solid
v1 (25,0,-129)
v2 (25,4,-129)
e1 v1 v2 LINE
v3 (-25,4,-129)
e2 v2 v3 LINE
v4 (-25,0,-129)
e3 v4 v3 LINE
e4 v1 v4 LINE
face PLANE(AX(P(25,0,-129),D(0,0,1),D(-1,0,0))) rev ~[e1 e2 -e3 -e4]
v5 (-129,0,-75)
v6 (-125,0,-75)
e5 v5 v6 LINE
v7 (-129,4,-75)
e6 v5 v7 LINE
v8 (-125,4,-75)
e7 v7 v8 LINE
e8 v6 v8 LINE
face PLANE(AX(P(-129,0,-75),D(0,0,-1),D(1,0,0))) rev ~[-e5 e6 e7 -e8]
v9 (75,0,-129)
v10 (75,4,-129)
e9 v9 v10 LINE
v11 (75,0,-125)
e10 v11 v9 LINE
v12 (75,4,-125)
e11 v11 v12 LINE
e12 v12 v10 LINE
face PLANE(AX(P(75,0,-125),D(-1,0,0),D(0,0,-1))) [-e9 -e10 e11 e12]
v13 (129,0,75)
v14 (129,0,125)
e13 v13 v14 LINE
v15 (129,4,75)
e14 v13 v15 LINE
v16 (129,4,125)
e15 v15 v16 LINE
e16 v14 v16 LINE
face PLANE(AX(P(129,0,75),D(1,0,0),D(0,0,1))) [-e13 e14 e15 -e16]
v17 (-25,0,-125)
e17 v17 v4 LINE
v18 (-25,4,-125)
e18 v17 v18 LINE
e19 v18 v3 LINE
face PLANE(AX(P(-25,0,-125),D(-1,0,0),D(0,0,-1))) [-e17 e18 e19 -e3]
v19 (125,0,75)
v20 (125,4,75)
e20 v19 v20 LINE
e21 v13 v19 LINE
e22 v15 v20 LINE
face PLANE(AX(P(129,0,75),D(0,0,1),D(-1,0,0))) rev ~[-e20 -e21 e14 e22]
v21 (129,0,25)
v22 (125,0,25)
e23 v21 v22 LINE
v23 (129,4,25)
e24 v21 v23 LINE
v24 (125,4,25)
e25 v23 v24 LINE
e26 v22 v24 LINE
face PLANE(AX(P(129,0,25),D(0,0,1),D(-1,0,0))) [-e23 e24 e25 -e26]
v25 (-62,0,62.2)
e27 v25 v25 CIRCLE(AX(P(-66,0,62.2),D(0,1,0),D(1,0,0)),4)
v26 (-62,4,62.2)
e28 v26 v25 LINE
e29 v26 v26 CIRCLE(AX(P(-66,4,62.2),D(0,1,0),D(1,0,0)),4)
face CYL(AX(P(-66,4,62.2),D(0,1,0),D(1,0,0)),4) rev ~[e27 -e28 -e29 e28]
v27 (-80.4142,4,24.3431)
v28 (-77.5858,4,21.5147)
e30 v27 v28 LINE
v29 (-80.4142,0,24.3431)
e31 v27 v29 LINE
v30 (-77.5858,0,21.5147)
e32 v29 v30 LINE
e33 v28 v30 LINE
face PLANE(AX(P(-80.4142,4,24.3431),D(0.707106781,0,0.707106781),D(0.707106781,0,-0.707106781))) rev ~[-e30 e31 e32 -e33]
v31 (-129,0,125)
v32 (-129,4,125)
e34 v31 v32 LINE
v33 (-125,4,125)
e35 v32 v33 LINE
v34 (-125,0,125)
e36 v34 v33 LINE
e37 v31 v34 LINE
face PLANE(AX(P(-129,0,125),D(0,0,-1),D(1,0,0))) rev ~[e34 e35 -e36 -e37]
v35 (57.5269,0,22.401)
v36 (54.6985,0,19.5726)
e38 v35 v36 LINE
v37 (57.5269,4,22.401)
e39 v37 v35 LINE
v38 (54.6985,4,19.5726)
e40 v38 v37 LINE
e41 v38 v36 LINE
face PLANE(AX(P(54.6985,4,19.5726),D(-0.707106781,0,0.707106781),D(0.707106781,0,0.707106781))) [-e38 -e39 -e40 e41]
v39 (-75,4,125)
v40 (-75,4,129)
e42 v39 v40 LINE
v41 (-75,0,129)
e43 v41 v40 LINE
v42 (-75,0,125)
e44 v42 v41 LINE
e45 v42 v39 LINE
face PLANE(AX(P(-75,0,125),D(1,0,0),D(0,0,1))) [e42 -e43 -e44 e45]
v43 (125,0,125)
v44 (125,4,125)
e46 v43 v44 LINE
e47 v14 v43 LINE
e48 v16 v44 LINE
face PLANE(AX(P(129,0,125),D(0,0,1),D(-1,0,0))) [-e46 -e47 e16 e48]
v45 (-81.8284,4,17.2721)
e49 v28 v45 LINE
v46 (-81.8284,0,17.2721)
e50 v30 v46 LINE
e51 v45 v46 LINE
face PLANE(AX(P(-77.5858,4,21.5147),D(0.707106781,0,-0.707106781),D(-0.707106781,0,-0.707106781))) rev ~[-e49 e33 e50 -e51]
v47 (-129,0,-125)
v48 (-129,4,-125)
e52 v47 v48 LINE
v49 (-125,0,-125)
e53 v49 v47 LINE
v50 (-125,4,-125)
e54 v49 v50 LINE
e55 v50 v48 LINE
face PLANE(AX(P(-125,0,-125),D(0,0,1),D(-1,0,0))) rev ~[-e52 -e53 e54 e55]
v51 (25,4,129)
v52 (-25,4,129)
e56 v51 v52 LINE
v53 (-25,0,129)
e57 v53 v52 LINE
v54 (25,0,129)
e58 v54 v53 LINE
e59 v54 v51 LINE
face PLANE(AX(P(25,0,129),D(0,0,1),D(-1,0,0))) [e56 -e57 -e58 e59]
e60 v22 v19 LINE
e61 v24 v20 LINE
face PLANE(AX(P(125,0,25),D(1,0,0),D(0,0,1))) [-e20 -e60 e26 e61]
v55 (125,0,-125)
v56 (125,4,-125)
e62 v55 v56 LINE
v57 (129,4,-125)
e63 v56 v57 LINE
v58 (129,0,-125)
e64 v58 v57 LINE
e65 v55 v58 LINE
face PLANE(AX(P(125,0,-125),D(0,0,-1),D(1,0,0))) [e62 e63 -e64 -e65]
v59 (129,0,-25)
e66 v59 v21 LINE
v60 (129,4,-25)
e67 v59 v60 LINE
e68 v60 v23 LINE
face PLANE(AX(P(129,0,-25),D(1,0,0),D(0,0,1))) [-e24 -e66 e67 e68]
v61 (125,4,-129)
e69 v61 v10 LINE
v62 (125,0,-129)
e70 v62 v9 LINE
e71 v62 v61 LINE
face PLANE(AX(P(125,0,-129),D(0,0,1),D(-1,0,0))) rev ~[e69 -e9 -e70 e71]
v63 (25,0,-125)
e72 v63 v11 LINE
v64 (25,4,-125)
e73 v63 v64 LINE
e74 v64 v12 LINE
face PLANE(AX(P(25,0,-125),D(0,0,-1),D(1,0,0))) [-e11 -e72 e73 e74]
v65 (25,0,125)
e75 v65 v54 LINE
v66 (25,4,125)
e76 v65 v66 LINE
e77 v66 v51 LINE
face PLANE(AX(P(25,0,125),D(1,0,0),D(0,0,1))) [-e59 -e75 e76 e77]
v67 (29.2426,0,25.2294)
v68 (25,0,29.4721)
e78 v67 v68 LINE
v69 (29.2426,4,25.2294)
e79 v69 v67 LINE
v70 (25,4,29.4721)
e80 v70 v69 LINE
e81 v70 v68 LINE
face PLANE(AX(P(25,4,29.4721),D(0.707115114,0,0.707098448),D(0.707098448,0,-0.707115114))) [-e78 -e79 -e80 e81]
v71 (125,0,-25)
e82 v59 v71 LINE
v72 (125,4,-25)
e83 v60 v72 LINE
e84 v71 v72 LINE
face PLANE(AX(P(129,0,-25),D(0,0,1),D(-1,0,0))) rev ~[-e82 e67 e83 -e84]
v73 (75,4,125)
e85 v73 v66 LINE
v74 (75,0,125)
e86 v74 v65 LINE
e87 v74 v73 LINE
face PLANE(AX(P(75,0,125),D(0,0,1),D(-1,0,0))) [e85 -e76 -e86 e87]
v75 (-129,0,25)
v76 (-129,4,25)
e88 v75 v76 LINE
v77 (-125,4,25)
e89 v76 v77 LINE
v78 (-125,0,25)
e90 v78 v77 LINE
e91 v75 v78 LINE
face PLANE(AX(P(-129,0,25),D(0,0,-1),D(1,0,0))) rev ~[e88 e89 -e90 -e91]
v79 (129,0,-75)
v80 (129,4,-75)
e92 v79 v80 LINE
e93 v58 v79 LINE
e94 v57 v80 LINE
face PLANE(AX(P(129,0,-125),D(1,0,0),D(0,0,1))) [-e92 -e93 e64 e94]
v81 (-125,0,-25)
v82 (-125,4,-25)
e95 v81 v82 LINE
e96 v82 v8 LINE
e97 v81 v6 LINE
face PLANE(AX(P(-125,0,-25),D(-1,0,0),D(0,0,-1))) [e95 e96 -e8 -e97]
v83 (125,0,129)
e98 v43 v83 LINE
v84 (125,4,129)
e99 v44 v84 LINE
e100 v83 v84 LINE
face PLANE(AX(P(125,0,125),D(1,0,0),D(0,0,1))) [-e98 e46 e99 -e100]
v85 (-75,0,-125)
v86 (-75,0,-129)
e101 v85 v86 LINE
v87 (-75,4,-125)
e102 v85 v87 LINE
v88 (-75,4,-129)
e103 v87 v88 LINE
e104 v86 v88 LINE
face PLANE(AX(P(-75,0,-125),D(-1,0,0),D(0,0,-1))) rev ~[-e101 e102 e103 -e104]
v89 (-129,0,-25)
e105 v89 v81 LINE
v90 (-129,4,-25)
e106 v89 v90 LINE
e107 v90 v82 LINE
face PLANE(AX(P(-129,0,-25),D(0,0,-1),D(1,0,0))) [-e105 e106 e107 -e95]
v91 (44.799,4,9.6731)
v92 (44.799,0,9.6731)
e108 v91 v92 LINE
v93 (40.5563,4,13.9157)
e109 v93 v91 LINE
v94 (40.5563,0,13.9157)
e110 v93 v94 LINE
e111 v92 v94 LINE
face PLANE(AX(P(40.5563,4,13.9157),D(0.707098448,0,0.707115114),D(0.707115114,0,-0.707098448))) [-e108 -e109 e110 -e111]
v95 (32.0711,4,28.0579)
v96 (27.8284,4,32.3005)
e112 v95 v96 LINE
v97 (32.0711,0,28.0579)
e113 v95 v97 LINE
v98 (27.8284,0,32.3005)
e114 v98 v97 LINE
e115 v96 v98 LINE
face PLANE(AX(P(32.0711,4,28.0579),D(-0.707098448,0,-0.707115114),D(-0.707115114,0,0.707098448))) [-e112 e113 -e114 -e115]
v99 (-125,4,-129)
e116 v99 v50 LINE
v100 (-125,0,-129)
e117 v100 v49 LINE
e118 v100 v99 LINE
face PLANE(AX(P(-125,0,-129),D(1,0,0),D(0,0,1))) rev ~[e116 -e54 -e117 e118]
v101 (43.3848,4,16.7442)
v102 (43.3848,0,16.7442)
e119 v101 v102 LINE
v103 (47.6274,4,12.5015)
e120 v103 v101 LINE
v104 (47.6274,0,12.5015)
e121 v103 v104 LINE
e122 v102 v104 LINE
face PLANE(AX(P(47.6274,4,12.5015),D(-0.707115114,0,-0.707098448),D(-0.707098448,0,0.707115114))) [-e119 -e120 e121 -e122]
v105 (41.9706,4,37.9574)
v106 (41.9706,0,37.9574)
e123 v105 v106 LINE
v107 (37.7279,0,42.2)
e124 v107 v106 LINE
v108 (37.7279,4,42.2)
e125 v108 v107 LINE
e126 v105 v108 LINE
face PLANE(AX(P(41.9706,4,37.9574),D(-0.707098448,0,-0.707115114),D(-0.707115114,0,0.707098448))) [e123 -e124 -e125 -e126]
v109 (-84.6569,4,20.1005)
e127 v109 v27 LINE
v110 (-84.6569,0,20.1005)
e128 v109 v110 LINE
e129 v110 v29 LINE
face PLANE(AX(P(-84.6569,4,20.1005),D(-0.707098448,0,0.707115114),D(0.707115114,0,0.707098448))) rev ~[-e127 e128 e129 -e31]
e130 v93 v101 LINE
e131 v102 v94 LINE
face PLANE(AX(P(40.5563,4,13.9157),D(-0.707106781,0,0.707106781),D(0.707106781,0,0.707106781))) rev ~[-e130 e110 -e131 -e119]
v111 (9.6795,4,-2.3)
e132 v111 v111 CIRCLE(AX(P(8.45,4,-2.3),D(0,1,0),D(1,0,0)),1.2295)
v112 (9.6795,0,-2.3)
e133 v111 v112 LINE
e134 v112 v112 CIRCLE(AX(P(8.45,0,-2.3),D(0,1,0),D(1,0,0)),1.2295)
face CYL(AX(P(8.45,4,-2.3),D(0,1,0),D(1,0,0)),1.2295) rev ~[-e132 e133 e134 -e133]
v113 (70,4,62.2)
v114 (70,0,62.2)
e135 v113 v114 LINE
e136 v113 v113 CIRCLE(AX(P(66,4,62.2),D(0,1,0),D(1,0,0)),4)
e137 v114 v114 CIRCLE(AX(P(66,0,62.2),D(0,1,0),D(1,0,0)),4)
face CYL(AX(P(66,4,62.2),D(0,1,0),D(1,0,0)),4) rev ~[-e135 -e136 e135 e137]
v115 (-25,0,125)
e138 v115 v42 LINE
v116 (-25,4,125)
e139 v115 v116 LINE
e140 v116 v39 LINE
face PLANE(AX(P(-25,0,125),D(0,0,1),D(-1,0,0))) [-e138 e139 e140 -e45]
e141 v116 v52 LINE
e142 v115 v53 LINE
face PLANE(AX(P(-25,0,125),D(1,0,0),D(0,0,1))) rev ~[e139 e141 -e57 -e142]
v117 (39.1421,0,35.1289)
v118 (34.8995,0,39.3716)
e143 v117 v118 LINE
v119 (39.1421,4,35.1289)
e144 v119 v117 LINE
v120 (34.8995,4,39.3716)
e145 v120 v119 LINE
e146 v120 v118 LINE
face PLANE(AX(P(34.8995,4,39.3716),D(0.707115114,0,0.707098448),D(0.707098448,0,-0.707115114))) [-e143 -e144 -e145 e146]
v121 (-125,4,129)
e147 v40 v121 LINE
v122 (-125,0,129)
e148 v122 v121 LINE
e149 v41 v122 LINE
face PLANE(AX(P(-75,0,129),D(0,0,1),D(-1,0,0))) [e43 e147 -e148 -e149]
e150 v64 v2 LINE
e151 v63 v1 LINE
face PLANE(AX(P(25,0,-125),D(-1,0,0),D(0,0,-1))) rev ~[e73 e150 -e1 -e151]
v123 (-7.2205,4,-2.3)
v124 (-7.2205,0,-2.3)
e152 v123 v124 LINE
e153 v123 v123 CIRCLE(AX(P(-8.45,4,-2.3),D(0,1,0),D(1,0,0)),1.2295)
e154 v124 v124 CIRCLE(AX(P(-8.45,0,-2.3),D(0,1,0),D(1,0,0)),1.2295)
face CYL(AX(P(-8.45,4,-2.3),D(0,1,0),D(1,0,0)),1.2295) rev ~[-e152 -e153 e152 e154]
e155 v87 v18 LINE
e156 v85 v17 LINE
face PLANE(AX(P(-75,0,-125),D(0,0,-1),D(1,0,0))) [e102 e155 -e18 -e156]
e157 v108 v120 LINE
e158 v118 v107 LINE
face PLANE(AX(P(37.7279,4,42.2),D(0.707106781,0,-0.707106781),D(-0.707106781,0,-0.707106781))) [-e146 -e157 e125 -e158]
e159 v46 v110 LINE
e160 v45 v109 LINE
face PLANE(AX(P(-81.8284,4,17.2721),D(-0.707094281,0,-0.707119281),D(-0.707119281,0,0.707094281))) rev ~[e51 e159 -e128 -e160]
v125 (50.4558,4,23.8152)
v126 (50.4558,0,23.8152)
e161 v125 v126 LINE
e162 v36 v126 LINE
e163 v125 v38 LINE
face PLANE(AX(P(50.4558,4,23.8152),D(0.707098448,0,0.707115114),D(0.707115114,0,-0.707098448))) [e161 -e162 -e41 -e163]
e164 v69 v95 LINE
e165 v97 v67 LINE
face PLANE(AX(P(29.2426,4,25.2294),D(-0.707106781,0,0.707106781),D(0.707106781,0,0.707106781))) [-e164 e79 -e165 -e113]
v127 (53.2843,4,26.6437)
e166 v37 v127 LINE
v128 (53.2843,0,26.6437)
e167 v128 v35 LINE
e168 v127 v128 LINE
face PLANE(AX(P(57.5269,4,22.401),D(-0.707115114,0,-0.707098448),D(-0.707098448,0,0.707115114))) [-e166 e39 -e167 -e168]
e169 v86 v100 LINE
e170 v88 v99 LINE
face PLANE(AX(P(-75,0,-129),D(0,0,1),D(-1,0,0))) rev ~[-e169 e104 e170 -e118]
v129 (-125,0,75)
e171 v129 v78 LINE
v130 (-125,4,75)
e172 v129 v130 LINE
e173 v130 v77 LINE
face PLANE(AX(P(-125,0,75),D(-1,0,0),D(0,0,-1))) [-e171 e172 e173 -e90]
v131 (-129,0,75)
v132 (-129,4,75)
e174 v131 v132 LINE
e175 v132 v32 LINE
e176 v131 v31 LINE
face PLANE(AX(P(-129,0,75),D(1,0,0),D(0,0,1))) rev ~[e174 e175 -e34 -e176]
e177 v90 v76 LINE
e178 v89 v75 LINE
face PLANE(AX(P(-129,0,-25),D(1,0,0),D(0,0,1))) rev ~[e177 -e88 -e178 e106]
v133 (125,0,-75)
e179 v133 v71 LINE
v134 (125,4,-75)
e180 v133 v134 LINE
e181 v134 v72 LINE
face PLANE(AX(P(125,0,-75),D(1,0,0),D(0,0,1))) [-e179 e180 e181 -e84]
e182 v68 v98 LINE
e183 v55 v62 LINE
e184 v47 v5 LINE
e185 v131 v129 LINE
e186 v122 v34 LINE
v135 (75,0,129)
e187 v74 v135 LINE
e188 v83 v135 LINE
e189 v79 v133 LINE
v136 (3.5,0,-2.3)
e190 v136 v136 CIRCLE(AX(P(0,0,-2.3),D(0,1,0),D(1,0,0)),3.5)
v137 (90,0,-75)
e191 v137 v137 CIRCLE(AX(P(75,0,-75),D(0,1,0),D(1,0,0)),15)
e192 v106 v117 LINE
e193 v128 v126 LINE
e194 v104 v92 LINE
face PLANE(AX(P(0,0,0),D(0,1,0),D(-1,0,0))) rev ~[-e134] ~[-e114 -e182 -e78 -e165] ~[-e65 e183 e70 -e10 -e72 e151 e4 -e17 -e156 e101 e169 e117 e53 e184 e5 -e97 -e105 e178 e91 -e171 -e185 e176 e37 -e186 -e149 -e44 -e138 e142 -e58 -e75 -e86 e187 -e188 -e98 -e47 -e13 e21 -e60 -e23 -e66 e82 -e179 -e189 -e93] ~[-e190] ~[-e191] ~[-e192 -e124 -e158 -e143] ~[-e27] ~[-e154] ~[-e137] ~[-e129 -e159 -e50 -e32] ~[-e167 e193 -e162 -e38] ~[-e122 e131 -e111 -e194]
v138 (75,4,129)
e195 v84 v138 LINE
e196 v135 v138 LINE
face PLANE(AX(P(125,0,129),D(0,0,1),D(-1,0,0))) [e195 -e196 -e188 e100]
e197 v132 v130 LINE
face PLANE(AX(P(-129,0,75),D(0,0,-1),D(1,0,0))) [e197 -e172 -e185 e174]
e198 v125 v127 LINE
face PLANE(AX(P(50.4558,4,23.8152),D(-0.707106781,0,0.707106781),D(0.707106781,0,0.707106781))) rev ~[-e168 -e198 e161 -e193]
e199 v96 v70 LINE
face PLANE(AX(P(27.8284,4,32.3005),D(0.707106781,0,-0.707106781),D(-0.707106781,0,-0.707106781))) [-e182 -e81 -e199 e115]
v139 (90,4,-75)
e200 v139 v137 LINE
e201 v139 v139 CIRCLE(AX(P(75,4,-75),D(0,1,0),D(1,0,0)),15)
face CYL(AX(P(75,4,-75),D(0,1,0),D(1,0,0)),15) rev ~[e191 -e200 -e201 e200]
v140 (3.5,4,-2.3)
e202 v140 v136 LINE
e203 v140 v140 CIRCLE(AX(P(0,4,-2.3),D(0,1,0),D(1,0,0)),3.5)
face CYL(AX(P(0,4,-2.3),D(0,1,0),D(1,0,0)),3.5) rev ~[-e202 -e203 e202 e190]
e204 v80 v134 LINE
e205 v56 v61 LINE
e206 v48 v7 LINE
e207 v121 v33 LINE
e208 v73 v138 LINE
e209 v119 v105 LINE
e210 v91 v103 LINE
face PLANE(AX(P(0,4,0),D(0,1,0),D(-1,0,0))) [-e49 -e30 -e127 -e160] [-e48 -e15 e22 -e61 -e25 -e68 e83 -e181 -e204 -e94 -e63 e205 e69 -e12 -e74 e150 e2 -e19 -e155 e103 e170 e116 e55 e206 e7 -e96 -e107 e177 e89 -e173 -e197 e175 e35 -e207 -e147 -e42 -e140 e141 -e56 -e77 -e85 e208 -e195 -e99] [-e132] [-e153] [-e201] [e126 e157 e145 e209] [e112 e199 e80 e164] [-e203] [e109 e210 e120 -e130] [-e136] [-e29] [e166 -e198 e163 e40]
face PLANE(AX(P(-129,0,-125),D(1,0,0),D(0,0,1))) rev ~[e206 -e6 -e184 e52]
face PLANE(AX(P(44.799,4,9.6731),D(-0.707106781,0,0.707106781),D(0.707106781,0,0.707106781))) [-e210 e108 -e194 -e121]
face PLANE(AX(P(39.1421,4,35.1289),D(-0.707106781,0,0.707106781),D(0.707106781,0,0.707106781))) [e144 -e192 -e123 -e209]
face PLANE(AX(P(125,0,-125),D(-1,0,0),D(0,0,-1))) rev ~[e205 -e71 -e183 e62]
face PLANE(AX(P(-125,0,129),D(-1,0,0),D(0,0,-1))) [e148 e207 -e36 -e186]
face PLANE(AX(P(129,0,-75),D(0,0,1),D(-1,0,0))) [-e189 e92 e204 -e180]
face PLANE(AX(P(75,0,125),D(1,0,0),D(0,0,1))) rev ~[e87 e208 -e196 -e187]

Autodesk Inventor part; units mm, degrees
ref_plane "YZ Plane" through (0, 0, 0) normal (1, 0, 0) x (0, 1, 0)
ref_plane "XZ Plane" through (0, 0, 0) normal (0, 1, 0) x (-1, 0, 0)
ref_plane "XY Plane" through (0, 0, 0) normal (0, 0, 1) x (1, 0, 0)
sketch "Sketch1" plane through (0, 0, 0) normal (0, 1, 0) x (-1, 0, 0)
  line L0 (-125, 125) -> (125, 125)
  line L1 (125, 125) -> (125, -125)
  line L2 (125, -125) -> (-125, -125)
  line L3 (-125, -125) -> (-125, 125)
  line L4 (-125, 125) -> (125, -125) construction
  line L5 (125, 125) -> (-125, -125) construction
  line L6 (125, -125) -> (75, -125)
  line L7 (75, -125) -> (75, -129)
  line L8 (75, -129) -> (125, -129)
  line L9 (125, -129) -> (125, -125)
  line L10 (125, -125) -> (129, -125)
  line L11 (129, -125) -> (129, -75)
  line L12 (129, -75) -> (125, -75)
  line L13 (125, -75) -> (125, -125)
  line L14 (-125, -125) -> (-129, -125)
  line L15 (-129, -125) -> (-129, -75)
  line L16 (-129, -75) -> (-125, -75)
  line L17 (-125, -75) -> (-125, -125)
  line L18 (125, 125) -> (75, 125)
  line L19 (75, 125) -> (75, 129)
  line L20 (75, 129) -> (125, 129)
  line L21 (125, 129) -> (125, 125)
  line L22 (75, -129) -> (75, -125)
  line L23 (75, -125) -> (25, -125)
  line L24 (25, -125) -> (25, -129)
  line L25 (25, -129) -> (75, -129)
  line L26 (25, -129) -> (25, -125)
  line L27 (25, -125) -> (-25, -125)
  line L28 (-25, -125) -> (-25, -129)
  line L29 (-25, -129) -> (25, -129)
  line L30 (-25, -129) -> (-25, -125)
  line L31 (-25, -125) -> (-75, -125)
  line L32 (-75, -125) -> (-75, -129)
  line L33 (-75, -129) -> (-25, -129)
  line L34 (-75, -129) -> (-75, -125)
  line L35 (-75, -125) -> (-125, -125)
  line L36 (-125, -125) -> (-125, -129)
  line L37 (-125, -129) -> (-75, -129)
  line L38 (125, -75) -> (129, -75)
  line L39 (125, -25) -> (125, -75)
  line L40 (129, -25) -> (125, -25)
  line L41 (129, -75) -> (129, -25)
  line L42 (125, -25) -> (129, -25)
  line L43 (125, 25) -> (125, -25)
  line L44 (129, 25) -> (125, 25)
  line L45 (129, -25) -> (129, 25)
  line L46 (125, 25) -> (129, 25)
  line L47 (125, 75) -> (125, 25)
  line L48 (129, 75) -> (125, 75)
  line L49 (129, 25) -> (129, 75)
  line L50 (125, 75) -> (129, 75)
  line L51 (125, 125) -> (125, 75)
  line L52 (129, 125) -> (125, 125)
  line L53 (129, 75) -> (129, 125)
  line L54 (-125, -75) -> (-129, -75)
  line L55 (-129, -75) -> (-129, -25)
  line L56 (-129, -25) -> (-125, -25)
  line L57 (-125, -25) -> (-125, -75)
  line L58 (-125, -25) -> (-129, -25)
  line L59 (-129, -25) -> (-129, 25)
  line L60 (-129, 25) -> (-125, 25)
  line L61 (-125, 25) -> (-125, -25)
  line L62 (-125, 25) -> (-129, 25)
  line L63 (-129, 25) -> (-129, 75)
  line L64 (-129, 75) -> (-125, 75)
  line L65 (-125, 75) -> (-125, 25)
  line L66 (-125, 75) -> (-129, 75)
  line L67 (-129, 75) -> (-129, 125)
  line L68 (-129, 125) -> (-125, 125)
  line L69 (-125, 125) -> (-125, 75)
  line L70 (75, 125) -> (25, 125)
  line L71 (25, 125) -> (25, 129)
  line L72 (25, 129) -> (75, 129)
  line L73 (75, 129) -> (75, 125)
  line L74 (25, 125) -> (-25, 125)
  line L75 (-25, 125) -> (-25, 129)
  line L76 (-25, 129) -> (25, 129)
  line L77 (25, 129) -> (25, 125)
  line L78 (-25, 125) -> (-75, 125)
  line L79 (-75, 125) -> (-75, 129)
  line L80 (-75, 129) -> (-25, 129)
  line L81 (-25, 129) -> (-25, 125)
  line L82 (-75, 125) -> (-125, 125)
  line L83 (-125, 125) -> (-125, 129)
  line L84 (-125, 129) -> (-75, 129)
  line L85 (-75, 129) -> (-75, 125)
  point P0 (0, 0)
  dimension "d0" = 250
  dimension "d1" = 250
  dimension "d2" = 50
  dimension "d3" = 4
  dimension "d4" = 4
  dimension "d5" = 50
  dimension "d6" = 4
  dimension "d7" = 50
  dimension "d8" = 50
  dimension "d9" = 4
  dimension "d12" = 50
  dimension "d19" = 50
  dimension "d26" = 50
  dimension "d33" = 50
extrude "Extrusion1" add sketch "Sketch1" along normal blind 4 contours L83 L84 L79 L0 | L0 L1 L2 L3 | L3 L64 L67 L68 | L75 L76 L71 L0 | L3 L56 L59 L60 | L19 L20 L21 L0 | L3 L14 L15 L16 | L52 L53 L48 L1 | L2 L32 L37 L36 | L44 L45 L40 L1 | L2 L24 L29 L28 | L12 L11 L10 L1 | L2 L9 L8 L7
sketch "Sketch2" plane through (0, 4, 0) normal (0, 1, 0) x (1, 0, 0)
  line L0 (25, -125) -> (75, -125) construction
  circle A0 centre (0, 2.3) radius 3.5
  line L1 (-8.45, 2.3) -> (8.45, 2.3) construction
  line L2 (-8.45, 1.0705) -> (8.45, 1.0705) construction
  line L3 (8.45, 3.5295) -> (-8.45, 3.5295) construction
  arc A1 (-8.45, 3.5295) -> (-8.45, 1.0705) centre (-8.45, 2.3) ccw construction
  arc A2 (8.45, 1.0705) -> (8.45, 3.5295) centre (8.45, 2.3) ccw construction
  circle A3 centre (8.45, 2.3) radius 1.2295
  circle A4 centre (-8.45, 2.3) radius 1.2295
  circle A5 centre (-66, -62.2) radius 4
  circle A6 centre (66, -62.2) radius 4
  line L4 (0, 180.6) -> (0, -180.6) construction
  line L5 (-93.2324, -124) -> (95.467, -124) construction
  line L6 (-129, -125) -> (-125, -125) projected
  line L7 (25, -29.4721) -> (29.2426, -25.2294)
  line L8 (44.799, -9.6731) -> (47.6274, -12.5015)
  line L9 (47.6274, -12.5015) -> (43.3848, -16.7442)
  line L10 (27.8284, -32.3005) -> (25, -29.4721)
  line L11 (34.8995, -39.3716) -> (39.1421, -35.1289)
  line L12 (54.6985, -19.5726) -> (57.5269, -22.401)
  line L13 (57.5269, -22.401) -> (53.2843, -26.6437)
  line L14 (37.7279, -42.2) -> (34.8995, -39.3716)
  line L15 (40.5563, -13.9157) -> (43.3848, -16.7442)
  line L16 (29.2426, -25.2294) -> (32.0711, -28.0579)
  line L17 (39.1421, -35.1289) -> (41.9706, -37.9574)
  line L18 (50.4558, -23.8152) -> (53.2843, -26.6437)
  line L19 (40.5563, -13.9157) -> (44.799, -9.6731)
  line L20 (29.2426, -25.2294) -> (40.5563, -13.9157) construction
  line L21 (43.3848, -16.7442) -> (32.0711, -28.0579) construction
  line L22 (50.4558, -23.8152) -> (54.6985, -19.5726)
  line L23 (53.2843, -26.6437) -> (41.9706, -37.9574) construction
  line L24 (32.0711, -28.0579) -> (27.8284, -32.3005)
  line L25 (39.1421, -35.1289) -> (50.4558, -23.8152) construction
  line L26 (41.9706, -37.9574) -> (37.7279, -42.2)
  point P0 (0, 0)
  point P1 (26.4142, -30.8863)
  dimension "d46" = 7
  dimension "d47" = 16.9
  dimension "d48" = 1.2295
  dimension "d52" = 8
  dimension "d53" = 132
  dimension "d54" = 61.8
  dimension "d55" = 1
  dimension "d56" = 64.5
  dimension "d57" = 10
  dimension "d58" = 4
  dimension "d59" = 6
  dimension "d60" = 6
  dimension "d61" = 45
  dimension "d62" = 20
  dimension "d63" = 28
  dimension "d64" = 25
extrude "Extrusion2" cut sketch "Sketch2" against normal up to next
sketch "Sketch3" plane through (0, 4, 0) normal (0, 1, 0) x (1, 0, 0)
  point P0 (0, 0)
sketch "Sketch4" plane through (0, 4, 0) normal (0, 1, 0) x (1, 0, 0)
  circle A0 centre (75, 75) radius 15
  line L0 (125, 25) -> (125, 75) projected
  line L1 (75, 125) -> (25, 125) projected
  point P0 (0, 0)
  dimension "d65" = 30
  dimension "d66" = 50
  dimension "d67" = 50
extrude "Extrusion3" cut sketch "Sketch4" against normal through all
sketch "Sketch5" plane through (0, 4, 0) normal (0, 1, 0) x (1, 0, 0)
  circle A0 centre (75, 75) radius 15 projected
  line L0 (54.6985, -19.5726) -> (57.5269, -22.401) projected
  line L1 (57.5269, -22.401) -> (53.2843, -26.6437) projected
  line L2 (53.2843, -26.6437) -> (50.4558, -23.8152) projected
  line L3 (50.4558, -23.8152) -> (54.6985, -19.5726) projected
  circle A1 centre (8.45, 2.3) radius 1.2295 projected
  circle A2 centre (0, 2.3) radius 3.5 projected
  line L4 (39.1421, -35.1289) -> (41.9706, -37.9574) projected
  line L5 (41.9706, -37.9574) -> (37.7279, -42.2) projected
  line L6 (37.7279, -42.2) -> (34.8995, -39.3716) projected
  line L7 (34.8995, -39.3716) -> (39.1421, -35.1289) projected
  line L8 (44.799, -9.6731) -> (47.6274, -12.5015) projected
  line L9 (47.6274, -12.5015) -> (43.3848, -16.7442) projected
  line L10 (43.3848, -16.7442) -> (40.5563, -13.9157) projected
  line L11 (40.5563, -13.9157) -> (44.799, -9.6731) projected
  circle A3 centre (66, -62.2) radius 4 projected
  circle A4 centre (-8.45, 2.3) radius 1.2295 projected
  circle A5 centre (-66, -62.2) radius 4 projected
  line L12 (29.2426, -25.2294) -> (32.0711, -28.0579) projected
  line L13 (32.0711, -28.0579) -> (27.8284, -32.3005) projected
  line L14 (27.8284, -32.3005) -> (25, -29.4721) projected
  line L15 (25, -29.4721) -> (29.2426, -25.2294) projected
  line L16 (-129, -125) -> (-125, -125) projected
  line L17 (-125, -125) -> (-125, -129) projected
  line L18 (-125, -129) -> (-75, -129) projected
  line L19 (-75, -129) -> (-75, -125) projected
  line L20 (-75, -125) -> (-25, -125) projected
  line L21 (-25, -125) -> (-25, -129) projected
  line L22 (-25, -129) -> (25, -129) projected
  line L23 (25, -129) -> (25, -125) projected
  line L24 (25, -125) -> (75, -125) projected
  line L25 (75, -125) -> (75, -129) projected
  line L26 (75, -129) -> (125, -129) projected
  line L27 (125, -129) -> (125, -125) projected
  line L28 (125, -125) -> (129, -125) projected
  line L29 (129, -125) -> (129, -75) projected
  line L30 (129, -75) -> (125, -75) projected
  line L31 (125, -75) -> (125, -25) projected
  line L32 (125, -25) -> (129, -25) projected
  line L33 (129, -25) -> (129, 25) projected
  line L34 (129, 25) -> (125, 25) projected
  line L35 (125, 25) -> (125, 75) projected
  line L36 (125, 75) -> (129, 75) projected
  line L37 (129, 75) -> (129, 125) projected
  line L38 (129, 125) -> (125, 125) projected
  line L39 (125, 125) -> (125, 129) projected
  line L40 (125, 129) -> (75, 129) projected
  line L41 (75, 129) -> (75, 125) projected
  line L42 (75, 125) -> (25, 125) projected
  line L43 (25, 125) -> (25, 129) projected
  line L44 (25, 129) -> (-25, 129) projected
  line L45 (-25, 129) -> (-25, 125) projected
  line L46 (-25, 125) -> (-75, 125) projected
  line L47 (-75, 125) -> (-75, 129) projected
  line L48 (-75, 129) -> (-125, 129) projected
  line L49 (-125, 129) -> (-125, 125) projected
  line L50 (-125, 125) -> (-129, 125) projected
  line L51 (-129, 125) -> (-129, 75) projected
  line L52 (-129, 75) -> (-125, 75) projected
  line L53 (-125, 75) -> (-125, 25) projected
  line L54 (-125, 25) -> (-129, 25) projected
  line L55 (-129, 25) -> (-129, -25) projected
  line L56 (-129, -25) -> (-125, -25) projected
  line L57 (-125, -25) -> (-125, -75) projected
  line L58 (-125, -75) -> (-129, -75) projected
  line L59 (-129, -75) -> (-129, -125) projected
  line L60 (-80.4142, -24.3431) -> (-77.5858, -21.5147)
  line L61 (-77.5858, -21.5147) -> (-81.8284, -17.2721)
  line L62 (-81.8284, -17.2721) -> (-84.6569, -20.1005)
  line L63 (-84.6569, -20.1005) -> (-80.4142, -24.3431)
  line L64 (-79, -30) -> (-71.9289, -22.9289) construction
  line L65 (-83.2426, -18.6863) -> (-79, -22.9289) construction
  line L66 (-79, -22.9289) -> (-75.4645, -26.4645) construction
  point P0 (0, 0)
  dimension "d70" = 45
  dimension "d71" = 4
  dimension "d72" = 6
  dimension "d73" = 10
  dimension "d74" = 95
  dimension "d75" = 46
  dimension "d78" = 5
extrude "Extrusion4" cut sketch "Sketch5" against normal through all contours L63 L62 L61 L60
properties part number "FloorPlateBottom_V2" material "Wood (Oak)"
